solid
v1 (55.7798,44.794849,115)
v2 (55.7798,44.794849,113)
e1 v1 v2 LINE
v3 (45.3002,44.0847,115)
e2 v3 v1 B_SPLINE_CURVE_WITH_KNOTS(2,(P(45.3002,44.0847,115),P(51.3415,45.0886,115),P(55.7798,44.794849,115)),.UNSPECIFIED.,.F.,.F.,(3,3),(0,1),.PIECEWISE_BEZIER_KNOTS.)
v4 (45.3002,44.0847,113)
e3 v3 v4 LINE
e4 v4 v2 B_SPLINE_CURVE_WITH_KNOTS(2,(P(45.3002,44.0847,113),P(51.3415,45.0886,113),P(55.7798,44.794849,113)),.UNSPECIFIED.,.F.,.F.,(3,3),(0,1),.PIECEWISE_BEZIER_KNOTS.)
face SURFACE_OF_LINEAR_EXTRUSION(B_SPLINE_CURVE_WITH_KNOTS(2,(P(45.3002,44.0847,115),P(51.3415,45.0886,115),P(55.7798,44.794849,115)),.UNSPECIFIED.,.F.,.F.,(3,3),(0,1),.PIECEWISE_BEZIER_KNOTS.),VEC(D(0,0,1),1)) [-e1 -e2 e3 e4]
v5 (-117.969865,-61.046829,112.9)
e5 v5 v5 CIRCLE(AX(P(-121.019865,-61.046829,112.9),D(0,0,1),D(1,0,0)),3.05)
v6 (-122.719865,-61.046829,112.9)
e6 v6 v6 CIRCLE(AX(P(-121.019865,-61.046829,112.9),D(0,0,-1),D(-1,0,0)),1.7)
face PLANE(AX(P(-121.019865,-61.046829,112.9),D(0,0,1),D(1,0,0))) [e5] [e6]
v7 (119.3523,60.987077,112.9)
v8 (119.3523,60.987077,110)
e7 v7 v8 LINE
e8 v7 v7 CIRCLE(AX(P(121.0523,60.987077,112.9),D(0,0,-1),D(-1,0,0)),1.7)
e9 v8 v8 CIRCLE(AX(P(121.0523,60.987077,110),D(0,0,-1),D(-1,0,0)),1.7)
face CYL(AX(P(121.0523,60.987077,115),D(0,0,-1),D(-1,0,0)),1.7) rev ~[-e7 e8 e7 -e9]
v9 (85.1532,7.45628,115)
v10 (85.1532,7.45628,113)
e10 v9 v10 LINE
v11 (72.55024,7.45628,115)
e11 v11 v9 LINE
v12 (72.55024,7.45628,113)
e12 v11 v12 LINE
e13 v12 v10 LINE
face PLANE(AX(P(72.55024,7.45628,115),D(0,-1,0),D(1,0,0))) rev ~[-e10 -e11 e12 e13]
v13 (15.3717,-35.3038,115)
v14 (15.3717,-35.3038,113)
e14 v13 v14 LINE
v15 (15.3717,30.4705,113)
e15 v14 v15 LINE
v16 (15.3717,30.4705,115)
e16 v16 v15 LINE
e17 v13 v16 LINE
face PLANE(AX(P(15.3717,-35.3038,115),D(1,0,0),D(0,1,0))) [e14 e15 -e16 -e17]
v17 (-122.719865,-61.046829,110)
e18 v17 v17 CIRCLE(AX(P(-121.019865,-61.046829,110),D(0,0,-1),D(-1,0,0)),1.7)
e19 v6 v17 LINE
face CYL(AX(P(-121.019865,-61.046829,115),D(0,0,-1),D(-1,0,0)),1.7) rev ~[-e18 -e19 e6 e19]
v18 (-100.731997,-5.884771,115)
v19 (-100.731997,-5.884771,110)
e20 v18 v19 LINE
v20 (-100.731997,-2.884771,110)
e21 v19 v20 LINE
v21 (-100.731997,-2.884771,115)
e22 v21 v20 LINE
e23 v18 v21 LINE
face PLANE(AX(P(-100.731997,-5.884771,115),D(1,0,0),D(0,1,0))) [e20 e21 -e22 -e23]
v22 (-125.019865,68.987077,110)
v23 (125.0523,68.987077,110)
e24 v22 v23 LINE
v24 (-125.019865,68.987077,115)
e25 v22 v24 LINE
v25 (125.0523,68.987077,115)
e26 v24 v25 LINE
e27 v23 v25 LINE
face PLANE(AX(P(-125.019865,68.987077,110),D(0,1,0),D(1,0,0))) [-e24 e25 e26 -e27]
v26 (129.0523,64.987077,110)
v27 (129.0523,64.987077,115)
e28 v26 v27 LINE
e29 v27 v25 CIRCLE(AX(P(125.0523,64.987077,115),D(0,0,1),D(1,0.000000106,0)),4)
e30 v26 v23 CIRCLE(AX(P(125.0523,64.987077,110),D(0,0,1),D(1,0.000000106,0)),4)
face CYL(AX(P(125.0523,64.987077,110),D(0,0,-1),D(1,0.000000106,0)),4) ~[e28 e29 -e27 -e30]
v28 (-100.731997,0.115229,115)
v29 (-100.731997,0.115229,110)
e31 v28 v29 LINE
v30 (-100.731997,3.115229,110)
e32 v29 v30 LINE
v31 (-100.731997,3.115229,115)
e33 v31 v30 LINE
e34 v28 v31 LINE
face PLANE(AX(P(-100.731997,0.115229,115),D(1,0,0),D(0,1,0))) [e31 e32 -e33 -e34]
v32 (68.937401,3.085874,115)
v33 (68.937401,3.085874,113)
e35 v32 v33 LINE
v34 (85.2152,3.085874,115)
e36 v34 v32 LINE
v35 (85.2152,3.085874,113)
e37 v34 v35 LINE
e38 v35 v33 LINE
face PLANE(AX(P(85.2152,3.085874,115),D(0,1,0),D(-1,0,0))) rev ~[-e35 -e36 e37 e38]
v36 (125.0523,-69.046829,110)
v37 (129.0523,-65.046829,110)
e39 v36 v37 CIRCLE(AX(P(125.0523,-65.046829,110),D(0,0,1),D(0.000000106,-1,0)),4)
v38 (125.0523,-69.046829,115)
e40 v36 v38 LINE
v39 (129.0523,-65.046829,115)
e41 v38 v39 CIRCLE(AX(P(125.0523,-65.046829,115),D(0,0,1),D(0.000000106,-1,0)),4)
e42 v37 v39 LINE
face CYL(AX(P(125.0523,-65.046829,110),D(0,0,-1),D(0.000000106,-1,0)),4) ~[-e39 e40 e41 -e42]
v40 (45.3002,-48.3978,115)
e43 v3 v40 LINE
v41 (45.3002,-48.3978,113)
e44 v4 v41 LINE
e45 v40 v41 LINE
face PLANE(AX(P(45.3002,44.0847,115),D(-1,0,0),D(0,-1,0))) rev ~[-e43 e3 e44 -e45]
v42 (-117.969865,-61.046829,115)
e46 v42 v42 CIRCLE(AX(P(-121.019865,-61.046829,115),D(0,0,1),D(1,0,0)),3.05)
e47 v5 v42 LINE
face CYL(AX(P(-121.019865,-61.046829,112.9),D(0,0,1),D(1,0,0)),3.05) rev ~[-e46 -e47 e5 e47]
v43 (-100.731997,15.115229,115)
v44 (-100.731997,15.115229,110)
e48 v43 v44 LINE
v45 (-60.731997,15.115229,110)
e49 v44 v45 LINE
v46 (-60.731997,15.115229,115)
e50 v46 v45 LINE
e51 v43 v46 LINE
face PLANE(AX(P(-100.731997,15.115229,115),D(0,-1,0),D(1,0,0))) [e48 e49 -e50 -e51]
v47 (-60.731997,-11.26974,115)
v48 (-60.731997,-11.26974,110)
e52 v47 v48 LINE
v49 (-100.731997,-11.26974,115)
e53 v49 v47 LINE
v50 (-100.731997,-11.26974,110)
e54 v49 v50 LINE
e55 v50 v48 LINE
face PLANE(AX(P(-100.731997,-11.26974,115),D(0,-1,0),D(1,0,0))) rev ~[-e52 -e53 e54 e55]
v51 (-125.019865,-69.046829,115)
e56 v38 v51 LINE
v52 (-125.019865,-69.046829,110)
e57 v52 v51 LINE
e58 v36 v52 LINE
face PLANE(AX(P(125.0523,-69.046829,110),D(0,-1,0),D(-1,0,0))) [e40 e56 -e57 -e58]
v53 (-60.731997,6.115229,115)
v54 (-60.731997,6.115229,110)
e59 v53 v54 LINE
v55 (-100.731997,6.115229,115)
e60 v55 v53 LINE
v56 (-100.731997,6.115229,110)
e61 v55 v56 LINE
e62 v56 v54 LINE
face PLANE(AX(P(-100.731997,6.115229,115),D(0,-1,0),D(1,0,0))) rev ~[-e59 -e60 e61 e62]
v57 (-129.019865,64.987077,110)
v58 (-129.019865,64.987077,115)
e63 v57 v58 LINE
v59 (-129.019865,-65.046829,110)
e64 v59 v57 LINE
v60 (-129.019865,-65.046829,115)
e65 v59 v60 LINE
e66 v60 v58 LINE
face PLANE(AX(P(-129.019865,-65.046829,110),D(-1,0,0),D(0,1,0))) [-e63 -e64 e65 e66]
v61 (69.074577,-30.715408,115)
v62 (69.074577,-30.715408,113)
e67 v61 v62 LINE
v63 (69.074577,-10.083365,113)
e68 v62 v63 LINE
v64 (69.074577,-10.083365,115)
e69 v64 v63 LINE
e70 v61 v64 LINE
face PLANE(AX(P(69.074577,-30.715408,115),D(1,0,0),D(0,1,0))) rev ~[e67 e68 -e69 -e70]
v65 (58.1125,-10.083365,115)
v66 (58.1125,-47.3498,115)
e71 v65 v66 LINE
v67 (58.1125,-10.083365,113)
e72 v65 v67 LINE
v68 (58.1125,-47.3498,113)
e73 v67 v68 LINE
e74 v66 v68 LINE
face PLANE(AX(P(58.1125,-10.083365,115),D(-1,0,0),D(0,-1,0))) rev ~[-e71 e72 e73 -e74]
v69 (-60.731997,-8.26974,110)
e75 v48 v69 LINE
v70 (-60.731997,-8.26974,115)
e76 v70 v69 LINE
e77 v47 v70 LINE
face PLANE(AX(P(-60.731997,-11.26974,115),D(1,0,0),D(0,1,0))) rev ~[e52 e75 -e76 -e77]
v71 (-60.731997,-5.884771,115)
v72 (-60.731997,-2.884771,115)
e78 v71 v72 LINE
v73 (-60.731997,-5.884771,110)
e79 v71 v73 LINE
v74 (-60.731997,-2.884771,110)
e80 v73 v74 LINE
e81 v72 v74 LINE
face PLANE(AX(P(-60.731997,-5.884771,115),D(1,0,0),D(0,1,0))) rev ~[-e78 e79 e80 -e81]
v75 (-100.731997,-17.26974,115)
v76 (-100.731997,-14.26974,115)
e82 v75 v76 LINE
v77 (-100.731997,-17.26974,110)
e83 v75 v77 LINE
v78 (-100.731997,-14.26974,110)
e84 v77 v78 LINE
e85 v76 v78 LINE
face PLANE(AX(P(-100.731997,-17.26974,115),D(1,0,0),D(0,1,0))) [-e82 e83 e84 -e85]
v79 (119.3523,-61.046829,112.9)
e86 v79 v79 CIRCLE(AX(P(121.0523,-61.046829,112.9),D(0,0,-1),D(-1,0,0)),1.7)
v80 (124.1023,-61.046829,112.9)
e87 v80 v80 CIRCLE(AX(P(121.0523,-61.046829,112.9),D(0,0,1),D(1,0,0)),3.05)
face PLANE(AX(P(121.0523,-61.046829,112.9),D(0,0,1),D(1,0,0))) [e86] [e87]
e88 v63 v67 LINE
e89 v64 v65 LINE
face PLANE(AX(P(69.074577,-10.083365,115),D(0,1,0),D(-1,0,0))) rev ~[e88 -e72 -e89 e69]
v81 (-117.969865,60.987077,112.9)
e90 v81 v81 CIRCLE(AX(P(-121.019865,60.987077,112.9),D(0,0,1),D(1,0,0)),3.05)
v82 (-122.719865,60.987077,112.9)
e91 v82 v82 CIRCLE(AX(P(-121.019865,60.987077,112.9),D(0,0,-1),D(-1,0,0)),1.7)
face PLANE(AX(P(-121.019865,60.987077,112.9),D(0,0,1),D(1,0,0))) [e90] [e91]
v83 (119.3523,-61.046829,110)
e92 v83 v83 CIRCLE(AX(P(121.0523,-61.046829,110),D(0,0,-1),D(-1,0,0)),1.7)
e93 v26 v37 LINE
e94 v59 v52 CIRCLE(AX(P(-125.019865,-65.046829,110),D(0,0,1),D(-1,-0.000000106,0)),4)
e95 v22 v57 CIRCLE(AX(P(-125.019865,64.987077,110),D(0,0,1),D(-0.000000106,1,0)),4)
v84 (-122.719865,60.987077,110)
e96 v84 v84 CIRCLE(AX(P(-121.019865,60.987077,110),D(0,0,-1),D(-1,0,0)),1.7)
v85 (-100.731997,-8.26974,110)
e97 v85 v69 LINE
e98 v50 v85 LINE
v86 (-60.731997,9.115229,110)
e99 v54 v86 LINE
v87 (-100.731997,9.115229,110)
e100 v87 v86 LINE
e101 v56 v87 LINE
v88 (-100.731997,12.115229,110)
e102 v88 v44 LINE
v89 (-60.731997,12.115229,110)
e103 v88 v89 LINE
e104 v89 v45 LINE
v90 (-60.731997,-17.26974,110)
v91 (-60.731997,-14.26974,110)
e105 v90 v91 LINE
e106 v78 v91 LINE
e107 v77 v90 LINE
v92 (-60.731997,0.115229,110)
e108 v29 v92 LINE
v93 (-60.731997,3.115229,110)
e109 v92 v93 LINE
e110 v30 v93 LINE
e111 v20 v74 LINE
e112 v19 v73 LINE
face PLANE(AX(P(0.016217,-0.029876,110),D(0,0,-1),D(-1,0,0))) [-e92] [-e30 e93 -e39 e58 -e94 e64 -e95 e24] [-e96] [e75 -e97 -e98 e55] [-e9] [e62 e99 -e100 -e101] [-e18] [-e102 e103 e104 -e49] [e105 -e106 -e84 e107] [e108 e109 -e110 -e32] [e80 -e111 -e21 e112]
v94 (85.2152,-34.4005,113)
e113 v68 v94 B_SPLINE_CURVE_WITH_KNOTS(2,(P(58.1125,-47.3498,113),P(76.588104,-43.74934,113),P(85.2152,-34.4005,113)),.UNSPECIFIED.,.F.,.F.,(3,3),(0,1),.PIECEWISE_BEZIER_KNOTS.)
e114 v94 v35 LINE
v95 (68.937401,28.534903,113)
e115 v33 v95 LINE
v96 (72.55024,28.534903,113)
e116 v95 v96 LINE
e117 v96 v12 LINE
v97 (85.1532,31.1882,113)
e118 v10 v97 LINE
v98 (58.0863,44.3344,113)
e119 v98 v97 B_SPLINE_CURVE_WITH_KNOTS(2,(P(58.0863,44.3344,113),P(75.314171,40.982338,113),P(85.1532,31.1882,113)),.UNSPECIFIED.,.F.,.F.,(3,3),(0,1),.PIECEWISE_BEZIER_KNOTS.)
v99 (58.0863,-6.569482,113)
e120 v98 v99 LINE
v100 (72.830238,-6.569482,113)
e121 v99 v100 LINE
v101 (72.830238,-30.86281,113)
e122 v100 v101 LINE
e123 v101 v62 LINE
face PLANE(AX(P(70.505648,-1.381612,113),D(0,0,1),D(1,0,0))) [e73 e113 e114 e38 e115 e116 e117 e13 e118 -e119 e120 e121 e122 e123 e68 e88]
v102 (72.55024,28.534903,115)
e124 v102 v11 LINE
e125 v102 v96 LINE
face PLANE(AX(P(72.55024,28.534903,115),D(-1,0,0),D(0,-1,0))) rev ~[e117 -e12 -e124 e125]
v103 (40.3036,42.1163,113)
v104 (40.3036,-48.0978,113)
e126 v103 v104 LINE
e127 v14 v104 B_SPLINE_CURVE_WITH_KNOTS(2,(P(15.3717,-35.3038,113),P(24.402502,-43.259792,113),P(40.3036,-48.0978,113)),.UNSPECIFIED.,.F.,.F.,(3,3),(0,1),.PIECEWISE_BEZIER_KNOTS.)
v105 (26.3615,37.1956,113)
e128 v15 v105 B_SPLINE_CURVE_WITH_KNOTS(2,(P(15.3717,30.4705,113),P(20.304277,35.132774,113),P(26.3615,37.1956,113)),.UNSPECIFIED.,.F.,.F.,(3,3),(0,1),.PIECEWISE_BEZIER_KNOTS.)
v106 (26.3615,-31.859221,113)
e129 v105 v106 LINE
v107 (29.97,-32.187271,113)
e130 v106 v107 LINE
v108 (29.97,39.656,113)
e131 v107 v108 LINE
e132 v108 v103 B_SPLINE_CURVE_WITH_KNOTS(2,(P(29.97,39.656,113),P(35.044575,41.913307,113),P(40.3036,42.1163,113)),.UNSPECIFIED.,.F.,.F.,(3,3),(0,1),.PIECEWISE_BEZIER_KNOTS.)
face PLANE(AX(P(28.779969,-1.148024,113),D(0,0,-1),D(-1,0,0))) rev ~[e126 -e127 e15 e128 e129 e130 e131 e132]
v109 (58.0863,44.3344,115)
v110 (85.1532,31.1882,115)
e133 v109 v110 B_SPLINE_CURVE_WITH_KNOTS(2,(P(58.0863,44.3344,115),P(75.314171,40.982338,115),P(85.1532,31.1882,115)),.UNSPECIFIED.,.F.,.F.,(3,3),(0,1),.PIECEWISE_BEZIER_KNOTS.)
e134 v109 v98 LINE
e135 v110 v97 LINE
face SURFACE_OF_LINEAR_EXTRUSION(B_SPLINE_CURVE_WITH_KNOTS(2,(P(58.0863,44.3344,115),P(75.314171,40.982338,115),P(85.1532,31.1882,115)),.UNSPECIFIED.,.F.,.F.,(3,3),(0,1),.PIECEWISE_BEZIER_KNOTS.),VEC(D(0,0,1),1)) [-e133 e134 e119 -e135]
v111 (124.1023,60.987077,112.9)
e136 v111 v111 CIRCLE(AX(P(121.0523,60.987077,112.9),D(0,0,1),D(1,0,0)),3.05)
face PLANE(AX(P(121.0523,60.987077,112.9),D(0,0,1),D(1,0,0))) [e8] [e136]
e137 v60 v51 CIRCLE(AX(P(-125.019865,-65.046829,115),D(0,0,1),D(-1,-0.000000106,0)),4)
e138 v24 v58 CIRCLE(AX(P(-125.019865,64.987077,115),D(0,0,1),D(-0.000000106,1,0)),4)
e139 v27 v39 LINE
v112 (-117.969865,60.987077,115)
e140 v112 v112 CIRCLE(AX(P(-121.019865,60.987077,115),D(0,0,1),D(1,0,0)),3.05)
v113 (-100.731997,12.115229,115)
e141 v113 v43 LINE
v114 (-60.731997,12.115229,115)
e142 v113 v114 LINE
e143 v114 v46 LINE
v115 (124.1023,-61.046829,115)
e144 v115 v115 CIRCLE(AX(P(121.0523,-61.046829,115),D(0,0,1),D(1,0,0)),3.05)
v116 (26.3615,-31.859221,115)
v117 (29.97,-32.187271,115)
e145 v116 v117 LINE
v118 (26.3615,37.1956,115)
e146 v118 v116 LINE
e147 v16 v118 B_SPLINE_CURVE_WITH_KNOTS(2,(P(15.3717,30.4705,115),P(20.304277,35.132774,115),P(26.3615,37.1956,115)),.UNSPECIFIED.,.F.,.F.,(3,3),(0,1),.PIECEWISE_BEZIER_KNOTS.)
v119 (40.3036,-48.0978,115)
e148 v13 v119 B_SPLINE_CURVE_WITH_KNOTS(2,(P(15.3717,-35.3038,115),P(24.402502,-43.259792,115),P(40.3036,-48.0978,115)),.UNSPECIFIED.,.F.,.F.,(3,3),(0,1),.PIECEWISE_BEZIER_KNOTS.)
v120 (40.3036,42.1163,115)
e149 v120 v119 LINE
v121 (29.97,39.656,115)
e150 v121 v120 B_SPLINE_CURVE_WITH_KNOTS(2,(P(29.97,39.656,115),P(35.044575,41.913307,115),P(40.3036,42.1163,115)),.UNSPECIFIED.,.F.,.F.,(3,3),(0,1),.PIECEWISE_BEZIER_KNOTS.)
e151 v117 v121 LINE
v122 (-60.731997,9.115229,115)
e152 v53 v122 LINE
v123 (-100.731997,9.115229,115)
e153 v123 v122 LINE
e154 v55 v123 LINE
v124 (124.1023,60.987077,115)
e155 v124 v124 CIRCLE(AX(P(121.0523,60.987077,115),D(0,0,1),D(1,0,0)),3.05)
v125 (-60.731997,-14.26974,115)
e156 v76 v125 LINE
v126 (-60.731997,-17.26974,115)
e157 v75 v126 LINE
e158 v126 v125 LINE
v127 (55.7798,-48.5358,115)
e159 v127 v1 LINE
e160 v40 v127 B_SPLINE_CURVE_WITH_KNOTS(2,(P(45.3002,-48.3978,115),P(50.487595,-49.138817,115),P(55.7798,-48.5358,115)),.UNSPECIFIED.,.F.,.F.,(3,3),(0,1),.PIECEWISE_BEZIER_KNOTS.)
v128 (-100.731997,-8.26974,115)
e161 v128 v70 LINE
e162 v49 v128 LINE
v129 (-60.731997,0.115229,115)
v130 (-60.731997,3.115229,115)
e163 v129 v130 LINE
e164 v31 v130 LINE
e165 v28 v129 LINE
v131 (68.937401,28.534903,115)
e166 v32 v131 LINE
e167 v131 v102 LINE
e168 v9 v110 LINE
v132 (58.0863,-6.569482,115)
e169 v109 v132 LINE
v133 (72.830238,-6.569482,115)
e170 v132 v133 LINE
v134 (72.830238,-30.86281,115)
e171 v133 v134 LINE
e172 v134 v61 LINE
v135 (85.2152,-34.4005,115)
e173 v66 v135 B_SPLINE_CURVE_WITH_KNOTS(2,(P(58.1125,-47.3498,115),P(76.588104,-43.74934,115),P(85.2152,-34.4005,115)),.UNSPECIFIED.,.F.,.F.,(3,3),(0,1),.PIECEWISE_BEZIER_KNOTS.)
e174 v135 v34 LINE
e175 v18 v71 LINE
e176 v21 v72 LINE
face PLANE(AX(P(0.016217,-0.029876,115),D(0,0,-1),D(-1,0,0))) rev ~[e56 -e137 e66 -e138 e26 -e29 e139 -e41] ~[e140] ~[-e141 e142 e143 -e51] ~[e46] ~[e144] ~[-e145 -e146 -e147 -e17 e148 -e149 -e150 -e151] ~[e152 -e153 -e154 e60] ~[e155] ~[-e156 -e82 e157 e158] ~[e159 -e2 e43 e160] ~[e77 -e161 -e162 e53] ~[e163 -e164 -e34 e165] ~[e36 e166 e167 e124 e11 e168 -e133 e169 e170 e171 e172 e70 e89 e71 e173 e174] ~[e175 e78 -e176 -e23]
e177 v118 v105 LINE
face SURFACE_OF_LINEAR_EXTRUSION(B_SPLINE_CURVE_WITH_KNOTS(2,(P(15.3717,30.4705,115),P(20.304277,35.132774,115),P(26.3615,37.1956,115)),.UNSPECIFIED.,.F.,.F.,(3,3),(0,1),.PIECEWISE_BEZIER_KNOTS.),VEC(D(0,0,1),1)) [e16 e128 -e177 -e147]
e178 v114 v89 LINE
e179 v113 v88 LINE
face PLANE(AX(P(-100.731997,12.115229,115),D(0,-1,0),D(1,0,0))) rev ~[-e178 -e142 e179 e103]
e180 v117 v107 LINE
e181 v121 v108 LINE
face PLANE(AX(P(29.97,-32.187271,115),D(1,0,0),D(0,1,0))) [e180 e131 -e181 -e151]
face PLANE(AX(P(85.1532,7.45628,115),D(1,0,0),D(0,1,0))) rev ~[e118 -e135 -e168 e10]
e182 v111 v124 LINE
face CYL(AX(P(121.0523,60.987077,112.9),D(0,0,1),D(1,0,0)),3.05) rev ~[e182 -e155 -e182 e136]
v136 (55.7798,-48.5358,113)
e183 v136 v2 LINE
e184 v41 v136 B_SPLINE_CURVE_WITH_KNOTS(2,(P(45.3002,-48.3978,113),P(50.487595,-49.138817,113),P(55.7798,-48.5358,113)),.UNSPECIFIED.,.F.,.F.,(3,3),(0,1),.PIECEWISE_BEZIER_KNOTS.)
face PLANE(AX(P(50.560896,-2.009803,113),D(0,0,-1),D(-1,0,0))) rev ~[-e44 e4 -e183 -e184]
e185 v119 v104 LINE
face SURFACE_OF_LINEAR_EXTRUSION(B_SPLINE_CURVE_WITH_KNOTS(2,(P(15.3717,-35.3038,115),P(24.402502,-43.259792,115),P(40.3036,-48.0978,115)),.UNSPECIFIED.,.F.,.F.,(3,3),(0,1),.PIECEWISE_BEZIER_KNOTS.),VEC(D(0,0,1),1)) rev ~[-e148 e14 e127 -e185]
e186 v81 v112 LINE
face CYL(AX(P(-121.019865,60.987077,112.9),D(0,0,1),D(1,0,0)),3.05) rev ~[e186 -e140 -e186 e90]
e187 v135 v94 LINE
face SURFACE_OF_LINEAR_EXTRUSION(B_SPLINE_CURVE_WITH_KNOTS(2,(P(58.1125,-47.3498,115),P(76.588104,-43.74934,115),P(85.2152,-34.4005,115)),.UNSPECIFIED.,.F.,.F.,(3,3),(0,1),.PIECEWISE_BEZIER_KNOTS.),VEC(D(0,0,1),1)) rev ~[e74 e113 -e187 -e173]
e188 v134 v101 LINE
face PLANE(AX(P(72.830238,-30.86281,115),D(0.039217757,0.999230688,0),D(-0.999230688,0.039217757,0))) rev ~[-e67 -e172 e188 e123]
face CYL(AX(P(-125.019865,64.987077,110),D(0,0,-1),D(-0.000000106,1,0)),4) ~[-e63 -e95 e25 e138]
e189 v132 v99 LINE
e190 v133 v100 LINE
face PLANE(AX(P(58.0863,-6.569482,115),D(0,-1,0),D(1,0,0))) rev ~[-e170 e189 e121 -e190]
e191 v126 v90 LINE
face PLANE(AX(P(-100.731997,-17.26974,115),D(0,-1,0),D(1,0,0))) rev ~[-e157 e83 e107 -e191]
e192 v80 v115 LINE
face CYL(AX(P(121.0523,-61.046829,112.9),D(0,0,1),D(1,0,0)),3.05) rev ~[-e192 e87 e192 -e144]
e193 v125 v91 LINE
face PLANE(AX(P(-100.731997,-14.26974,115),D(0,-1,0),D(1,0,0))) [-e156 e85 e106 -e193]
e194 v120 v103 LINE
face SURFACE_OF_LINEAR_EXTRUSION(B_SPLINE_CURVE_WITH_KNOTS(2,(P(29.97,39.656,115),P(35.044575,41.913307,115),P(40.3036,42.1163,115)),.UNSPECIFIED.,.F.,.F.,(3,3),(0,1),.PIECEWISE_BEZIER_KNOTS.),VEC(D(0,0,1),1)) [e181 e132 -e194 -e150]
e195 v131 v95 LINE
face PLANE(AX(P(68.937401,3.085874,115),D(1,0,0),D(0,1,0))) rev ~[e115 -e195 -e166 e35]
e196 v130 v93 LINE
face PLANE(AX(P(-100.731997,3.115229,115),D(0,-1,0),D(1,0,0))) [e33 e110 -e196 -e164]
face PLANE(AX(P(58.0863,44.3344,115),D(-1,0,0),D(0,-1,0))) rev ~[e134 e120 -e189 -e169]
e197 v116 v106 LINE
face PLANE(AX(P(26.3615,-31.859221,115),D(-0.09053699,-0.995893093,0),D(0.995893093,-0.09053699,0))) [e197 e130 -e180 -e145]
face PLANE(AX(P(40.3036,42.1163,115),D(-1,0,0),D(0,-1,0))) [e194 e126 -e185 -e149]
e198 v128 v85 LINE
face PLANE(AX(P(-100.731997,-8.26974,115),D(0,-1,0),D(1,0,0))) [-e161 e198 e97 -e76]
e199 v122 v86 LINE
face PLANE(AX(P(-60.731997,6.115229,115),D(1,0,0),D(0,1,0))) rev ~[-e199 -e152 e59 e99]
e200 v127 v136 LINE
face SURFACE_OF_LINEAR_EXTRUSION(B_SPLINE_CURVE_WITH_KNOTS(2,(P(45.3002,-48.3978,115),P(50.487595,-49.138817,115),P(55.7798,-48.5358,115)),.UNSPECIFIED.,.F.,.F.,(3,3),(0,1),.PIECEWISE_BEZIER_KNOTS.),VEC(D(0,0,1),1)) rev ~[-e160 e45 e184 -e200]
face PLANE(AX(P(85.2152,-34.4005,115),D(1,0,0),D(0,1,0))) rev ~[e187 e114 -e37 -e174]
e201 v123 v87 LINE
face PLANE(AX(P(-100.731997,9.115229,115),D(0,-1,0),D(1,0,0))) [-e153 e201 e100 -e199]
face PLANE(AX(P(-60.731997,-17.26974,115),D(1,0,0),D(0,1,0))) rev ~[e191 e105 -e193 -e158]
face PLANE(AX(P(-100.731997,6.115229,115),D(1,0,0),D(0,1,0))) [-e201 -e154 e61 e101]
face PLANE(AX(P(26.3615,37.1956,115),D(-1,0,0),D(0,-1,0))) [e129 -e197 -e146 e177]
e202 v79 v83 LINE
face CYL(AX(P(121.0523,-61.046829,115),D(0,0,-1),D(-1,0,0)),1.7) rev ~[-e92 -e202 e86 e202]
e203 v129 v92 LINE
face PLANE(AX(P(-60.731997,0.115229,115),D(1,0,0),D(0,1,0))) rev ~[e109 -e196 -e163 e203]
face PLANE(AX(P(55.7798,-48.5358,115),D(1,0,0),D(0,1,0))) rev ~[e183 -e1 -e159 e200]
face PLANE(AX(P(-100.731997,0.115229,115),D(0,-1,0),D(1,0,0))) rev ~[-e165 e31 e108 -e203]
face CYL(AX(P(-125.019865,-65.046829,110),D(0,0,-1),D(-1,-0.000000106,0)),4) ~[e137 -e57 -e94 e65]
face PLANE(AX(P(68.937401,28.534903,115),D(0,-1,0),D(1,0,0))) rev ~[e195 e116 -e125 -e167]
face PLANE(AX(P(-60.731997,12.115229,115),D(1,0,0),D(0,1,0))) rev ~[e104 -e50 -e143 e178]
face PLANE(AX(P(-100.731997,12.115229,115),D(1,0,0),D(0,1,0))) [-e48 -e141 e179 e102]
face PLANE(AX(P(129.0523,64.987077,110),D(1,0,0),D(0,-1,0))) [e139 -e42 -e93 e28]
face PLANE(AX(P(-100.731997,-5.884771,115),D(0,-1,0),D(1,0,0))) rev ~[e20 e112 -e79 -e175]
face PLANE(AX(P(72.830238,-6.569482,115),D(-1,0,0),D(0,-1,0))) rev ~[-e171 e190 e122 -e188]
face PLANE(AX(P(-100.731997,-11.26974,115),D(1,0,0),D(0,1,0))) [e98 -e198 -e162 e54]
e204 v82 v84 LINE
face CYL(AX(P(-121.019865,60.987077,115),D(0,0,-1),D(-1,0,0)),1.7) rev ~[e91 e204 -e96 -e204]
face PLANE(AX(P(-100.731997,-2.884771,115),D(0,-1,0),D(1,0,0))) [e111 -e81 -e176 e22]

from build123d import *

# Parameters (mm, degrees)
PAD012_DEPTH     = 5
SKETCH028_W      = 40
SKETCH028_H      = 3
POCKET005_DEPTH  = 5
POCKET007_DEPTH  = 2
HOLE_D           = 3.4
HOLE_DEPTH       = 25
HOLE_CBORE_D     = 6.1
HOLE_CBORE_DEPTH = 2.1


with BuildPart() as part:
    # Sketch017 → Pad012 (new body)
    with BuildSketch(Plane.XY):
        with BuildLine():
            Line((-125.019865, 68.987077), (125.0523, 68.987077))
            ThreePointArc((129.0523, 64.987077), (127.880727, 67.815504), (125.0523, 68.987077))
            Line((129.0523, 64.987077), (129.0523, -65.046829))
            ThreePointArc((125.0523, -69.046829), (127.880727, -67.875256), (129.0523, -65.046829))
            Line((125.0523, -69.046829), (-125.019865, -69.046829))
            ThreePointArc((-129.019865, -65.046829), (-127.848292, -67.875256), (-125.019865, -69.046829))
            Line((-129.019865, -65.046829), (-129.019865, 64.987077))
            ThreePointArc((-125.019865, 68.987077), (-127.848292, 67.815504), (-129.019865, 64.987077))
        make_face()
    extrude(amount=PAD012_DEPTH)

    # Sketch028 (on Face10 of Pad012) → Pocket005 (cut)
    with BuildSketch(Plane.XY.offset(5)):
        with Locations((-80.731997, 13.615229)):
            Rectangle(SKETCH028_W, SKETCH028_H)
        with Locations((-80.731997, 7.615229)):
            Rectangle(SKETCH028_W, SKETCH028_H)
        with Locations((-80.731997, 1.615229)):
            Rectangle(SKETCH028_W, SKETCH028_H)
        with Locations((-80.731997, -4.384771)):
            Rectangle(SKETCH028_W, SKETCH028_H)
        with Locations((-80.731997, -9.76974)):
            Rectangle(SKETCH028_W, SKETCH028_H)
        with Locations((-80.731997, -15.76974)):
            Rectangle(SKETCH028_W, SKETCH028_H)
    extrude(amount=-POCKET005_DEPTH, mode=Mode.SUBTRACT)

    # Sketch030 (on Face5 of Pocket005) → Pocket007 (cut)
    with BuildSketch(Plane.XY.offset(5)):
        with BuildLine():
            add(Edge.make_bspline(
                [(15.3717, 30.4705), (20.304277, 35.132774), (26.3615, 37.1956)],
                knots=[0, 0, 0, 1, 1, 1], degree=2))
            Line((26.3615, 37.1956), (26.3615, -31.859221))
            Line((26.3615, -31.859221), (29.97, -32.187271))
            Line((29.97, -32.187271), (29.97, 39.656))
            add(Edge.make_bspline(
                [(29.97, 39.656), (35.044575, 41.913307), (40.3036, 42.1163)],
                knots=[0, 0, 0, 1, 1, 1], degree=2))
            Line((40.3036, 42.1163), (40.3036, -48.0978))
            add(Edge.make_bspline(
                [(15.3717, -35.3038), (24.402502, -43.259792), (40.3036, -48.0978)],
                knots=[0, 0, 0, 1, 1, 1], degree=2))
            Line((15.3717, -35.3038), (15.3717, 30.4705))
        make_face()
        with BuildLine():
            add(Edge.make_bspline(
                [(45.3002, 44.0847), (51.3415, 45.0886), (55.7798, 44.794849)],
                knots=[0, 0, 0, 1, 1, 1], degree=2))
            Line((45.3002, 44.0847), (45.3002, -48.3978))
            add(Edge.make_bspline(
                [(45.3002, -48.3978), (50.487595, -49.138817), (55.7798, -48.5358)],
                knots=[0, 0, 0, 1, 1, 1], degree=2))
            Line((55.7798, -48.5358), (55.7798, 44.794849))
        make_face()
        with BuildLine():
            Line((58.0863, 44.3344), (58.0863, -6.569482))
            Line((58.0863, -6.569482), (72.830238, -6.569482))
            Line((72.830238, -6.569482), (72.830238, -30.86281))
            Line((72.830238, -30.86281), (69.074577, -30.715408))
            Line((69.074577, -30.715408), (69.074577, -10.083365))
            Line((69.074577, -10.083365), (58.1125, -10.083365))
            Line((58.1125, -10.083365), (58.1125, -47.3498))
            add(Edge.make_bspline(
                [(58.1125, -47.3498), (76.588104, -43.74934), (85.2152, -34.4005)],
                knots=[0, 0, 0, 1, 1, 1], degree=2))
            Line((85.2152, -34.4005), (85.2152, 3.085874))
            Line((85.2152, 3.085874), (68.937401, 3.085874))
            Line((68.937401, 3.085874), (68.937401, 28.534903))
            Line((68.937401, 28.534903), (69.012573, 28.534903))
            Line((69.012573, 28.534903), (72.55024, 28.534903))
            Line((72.55024, 28.534903), (72.55024, 7.45628))
            Line((72.55024, 7.45628), (85.1532, 7.45628))
            Line((85.1532, 7.45628), (85.1532, 31.1882))
            add(Edge.make_bspline(
                [(58.0863, 44.3344), (75.314171, 40.982338), (85.1532, 31.1882)],
                knots=[0, 0, 0, 1, 1, 1], degree=2))
        make_face()
    extrude(amount=-POCKET007_DEPTH, mode=Mode.SUBTRACT)

    # Hole
    with Locations(Plane.XY.offset(5)):
        with Locations((121.0523, 60.987077), (-121.019865, 60.987077), (-121.019865, -61.046829), (121.0523, -61.046829)):
            CounterBoreHole(HOLE_D / 2, HOLE_CBORE_D / 2, HOLE_CBORE_DEPTH, depth=HOLE_DEPTH)


with BuildPart() as part_1:
    # Body003 placement: moved
    add(part.part.moved(Location((0, 0, 110))))


solid = part_1.part
